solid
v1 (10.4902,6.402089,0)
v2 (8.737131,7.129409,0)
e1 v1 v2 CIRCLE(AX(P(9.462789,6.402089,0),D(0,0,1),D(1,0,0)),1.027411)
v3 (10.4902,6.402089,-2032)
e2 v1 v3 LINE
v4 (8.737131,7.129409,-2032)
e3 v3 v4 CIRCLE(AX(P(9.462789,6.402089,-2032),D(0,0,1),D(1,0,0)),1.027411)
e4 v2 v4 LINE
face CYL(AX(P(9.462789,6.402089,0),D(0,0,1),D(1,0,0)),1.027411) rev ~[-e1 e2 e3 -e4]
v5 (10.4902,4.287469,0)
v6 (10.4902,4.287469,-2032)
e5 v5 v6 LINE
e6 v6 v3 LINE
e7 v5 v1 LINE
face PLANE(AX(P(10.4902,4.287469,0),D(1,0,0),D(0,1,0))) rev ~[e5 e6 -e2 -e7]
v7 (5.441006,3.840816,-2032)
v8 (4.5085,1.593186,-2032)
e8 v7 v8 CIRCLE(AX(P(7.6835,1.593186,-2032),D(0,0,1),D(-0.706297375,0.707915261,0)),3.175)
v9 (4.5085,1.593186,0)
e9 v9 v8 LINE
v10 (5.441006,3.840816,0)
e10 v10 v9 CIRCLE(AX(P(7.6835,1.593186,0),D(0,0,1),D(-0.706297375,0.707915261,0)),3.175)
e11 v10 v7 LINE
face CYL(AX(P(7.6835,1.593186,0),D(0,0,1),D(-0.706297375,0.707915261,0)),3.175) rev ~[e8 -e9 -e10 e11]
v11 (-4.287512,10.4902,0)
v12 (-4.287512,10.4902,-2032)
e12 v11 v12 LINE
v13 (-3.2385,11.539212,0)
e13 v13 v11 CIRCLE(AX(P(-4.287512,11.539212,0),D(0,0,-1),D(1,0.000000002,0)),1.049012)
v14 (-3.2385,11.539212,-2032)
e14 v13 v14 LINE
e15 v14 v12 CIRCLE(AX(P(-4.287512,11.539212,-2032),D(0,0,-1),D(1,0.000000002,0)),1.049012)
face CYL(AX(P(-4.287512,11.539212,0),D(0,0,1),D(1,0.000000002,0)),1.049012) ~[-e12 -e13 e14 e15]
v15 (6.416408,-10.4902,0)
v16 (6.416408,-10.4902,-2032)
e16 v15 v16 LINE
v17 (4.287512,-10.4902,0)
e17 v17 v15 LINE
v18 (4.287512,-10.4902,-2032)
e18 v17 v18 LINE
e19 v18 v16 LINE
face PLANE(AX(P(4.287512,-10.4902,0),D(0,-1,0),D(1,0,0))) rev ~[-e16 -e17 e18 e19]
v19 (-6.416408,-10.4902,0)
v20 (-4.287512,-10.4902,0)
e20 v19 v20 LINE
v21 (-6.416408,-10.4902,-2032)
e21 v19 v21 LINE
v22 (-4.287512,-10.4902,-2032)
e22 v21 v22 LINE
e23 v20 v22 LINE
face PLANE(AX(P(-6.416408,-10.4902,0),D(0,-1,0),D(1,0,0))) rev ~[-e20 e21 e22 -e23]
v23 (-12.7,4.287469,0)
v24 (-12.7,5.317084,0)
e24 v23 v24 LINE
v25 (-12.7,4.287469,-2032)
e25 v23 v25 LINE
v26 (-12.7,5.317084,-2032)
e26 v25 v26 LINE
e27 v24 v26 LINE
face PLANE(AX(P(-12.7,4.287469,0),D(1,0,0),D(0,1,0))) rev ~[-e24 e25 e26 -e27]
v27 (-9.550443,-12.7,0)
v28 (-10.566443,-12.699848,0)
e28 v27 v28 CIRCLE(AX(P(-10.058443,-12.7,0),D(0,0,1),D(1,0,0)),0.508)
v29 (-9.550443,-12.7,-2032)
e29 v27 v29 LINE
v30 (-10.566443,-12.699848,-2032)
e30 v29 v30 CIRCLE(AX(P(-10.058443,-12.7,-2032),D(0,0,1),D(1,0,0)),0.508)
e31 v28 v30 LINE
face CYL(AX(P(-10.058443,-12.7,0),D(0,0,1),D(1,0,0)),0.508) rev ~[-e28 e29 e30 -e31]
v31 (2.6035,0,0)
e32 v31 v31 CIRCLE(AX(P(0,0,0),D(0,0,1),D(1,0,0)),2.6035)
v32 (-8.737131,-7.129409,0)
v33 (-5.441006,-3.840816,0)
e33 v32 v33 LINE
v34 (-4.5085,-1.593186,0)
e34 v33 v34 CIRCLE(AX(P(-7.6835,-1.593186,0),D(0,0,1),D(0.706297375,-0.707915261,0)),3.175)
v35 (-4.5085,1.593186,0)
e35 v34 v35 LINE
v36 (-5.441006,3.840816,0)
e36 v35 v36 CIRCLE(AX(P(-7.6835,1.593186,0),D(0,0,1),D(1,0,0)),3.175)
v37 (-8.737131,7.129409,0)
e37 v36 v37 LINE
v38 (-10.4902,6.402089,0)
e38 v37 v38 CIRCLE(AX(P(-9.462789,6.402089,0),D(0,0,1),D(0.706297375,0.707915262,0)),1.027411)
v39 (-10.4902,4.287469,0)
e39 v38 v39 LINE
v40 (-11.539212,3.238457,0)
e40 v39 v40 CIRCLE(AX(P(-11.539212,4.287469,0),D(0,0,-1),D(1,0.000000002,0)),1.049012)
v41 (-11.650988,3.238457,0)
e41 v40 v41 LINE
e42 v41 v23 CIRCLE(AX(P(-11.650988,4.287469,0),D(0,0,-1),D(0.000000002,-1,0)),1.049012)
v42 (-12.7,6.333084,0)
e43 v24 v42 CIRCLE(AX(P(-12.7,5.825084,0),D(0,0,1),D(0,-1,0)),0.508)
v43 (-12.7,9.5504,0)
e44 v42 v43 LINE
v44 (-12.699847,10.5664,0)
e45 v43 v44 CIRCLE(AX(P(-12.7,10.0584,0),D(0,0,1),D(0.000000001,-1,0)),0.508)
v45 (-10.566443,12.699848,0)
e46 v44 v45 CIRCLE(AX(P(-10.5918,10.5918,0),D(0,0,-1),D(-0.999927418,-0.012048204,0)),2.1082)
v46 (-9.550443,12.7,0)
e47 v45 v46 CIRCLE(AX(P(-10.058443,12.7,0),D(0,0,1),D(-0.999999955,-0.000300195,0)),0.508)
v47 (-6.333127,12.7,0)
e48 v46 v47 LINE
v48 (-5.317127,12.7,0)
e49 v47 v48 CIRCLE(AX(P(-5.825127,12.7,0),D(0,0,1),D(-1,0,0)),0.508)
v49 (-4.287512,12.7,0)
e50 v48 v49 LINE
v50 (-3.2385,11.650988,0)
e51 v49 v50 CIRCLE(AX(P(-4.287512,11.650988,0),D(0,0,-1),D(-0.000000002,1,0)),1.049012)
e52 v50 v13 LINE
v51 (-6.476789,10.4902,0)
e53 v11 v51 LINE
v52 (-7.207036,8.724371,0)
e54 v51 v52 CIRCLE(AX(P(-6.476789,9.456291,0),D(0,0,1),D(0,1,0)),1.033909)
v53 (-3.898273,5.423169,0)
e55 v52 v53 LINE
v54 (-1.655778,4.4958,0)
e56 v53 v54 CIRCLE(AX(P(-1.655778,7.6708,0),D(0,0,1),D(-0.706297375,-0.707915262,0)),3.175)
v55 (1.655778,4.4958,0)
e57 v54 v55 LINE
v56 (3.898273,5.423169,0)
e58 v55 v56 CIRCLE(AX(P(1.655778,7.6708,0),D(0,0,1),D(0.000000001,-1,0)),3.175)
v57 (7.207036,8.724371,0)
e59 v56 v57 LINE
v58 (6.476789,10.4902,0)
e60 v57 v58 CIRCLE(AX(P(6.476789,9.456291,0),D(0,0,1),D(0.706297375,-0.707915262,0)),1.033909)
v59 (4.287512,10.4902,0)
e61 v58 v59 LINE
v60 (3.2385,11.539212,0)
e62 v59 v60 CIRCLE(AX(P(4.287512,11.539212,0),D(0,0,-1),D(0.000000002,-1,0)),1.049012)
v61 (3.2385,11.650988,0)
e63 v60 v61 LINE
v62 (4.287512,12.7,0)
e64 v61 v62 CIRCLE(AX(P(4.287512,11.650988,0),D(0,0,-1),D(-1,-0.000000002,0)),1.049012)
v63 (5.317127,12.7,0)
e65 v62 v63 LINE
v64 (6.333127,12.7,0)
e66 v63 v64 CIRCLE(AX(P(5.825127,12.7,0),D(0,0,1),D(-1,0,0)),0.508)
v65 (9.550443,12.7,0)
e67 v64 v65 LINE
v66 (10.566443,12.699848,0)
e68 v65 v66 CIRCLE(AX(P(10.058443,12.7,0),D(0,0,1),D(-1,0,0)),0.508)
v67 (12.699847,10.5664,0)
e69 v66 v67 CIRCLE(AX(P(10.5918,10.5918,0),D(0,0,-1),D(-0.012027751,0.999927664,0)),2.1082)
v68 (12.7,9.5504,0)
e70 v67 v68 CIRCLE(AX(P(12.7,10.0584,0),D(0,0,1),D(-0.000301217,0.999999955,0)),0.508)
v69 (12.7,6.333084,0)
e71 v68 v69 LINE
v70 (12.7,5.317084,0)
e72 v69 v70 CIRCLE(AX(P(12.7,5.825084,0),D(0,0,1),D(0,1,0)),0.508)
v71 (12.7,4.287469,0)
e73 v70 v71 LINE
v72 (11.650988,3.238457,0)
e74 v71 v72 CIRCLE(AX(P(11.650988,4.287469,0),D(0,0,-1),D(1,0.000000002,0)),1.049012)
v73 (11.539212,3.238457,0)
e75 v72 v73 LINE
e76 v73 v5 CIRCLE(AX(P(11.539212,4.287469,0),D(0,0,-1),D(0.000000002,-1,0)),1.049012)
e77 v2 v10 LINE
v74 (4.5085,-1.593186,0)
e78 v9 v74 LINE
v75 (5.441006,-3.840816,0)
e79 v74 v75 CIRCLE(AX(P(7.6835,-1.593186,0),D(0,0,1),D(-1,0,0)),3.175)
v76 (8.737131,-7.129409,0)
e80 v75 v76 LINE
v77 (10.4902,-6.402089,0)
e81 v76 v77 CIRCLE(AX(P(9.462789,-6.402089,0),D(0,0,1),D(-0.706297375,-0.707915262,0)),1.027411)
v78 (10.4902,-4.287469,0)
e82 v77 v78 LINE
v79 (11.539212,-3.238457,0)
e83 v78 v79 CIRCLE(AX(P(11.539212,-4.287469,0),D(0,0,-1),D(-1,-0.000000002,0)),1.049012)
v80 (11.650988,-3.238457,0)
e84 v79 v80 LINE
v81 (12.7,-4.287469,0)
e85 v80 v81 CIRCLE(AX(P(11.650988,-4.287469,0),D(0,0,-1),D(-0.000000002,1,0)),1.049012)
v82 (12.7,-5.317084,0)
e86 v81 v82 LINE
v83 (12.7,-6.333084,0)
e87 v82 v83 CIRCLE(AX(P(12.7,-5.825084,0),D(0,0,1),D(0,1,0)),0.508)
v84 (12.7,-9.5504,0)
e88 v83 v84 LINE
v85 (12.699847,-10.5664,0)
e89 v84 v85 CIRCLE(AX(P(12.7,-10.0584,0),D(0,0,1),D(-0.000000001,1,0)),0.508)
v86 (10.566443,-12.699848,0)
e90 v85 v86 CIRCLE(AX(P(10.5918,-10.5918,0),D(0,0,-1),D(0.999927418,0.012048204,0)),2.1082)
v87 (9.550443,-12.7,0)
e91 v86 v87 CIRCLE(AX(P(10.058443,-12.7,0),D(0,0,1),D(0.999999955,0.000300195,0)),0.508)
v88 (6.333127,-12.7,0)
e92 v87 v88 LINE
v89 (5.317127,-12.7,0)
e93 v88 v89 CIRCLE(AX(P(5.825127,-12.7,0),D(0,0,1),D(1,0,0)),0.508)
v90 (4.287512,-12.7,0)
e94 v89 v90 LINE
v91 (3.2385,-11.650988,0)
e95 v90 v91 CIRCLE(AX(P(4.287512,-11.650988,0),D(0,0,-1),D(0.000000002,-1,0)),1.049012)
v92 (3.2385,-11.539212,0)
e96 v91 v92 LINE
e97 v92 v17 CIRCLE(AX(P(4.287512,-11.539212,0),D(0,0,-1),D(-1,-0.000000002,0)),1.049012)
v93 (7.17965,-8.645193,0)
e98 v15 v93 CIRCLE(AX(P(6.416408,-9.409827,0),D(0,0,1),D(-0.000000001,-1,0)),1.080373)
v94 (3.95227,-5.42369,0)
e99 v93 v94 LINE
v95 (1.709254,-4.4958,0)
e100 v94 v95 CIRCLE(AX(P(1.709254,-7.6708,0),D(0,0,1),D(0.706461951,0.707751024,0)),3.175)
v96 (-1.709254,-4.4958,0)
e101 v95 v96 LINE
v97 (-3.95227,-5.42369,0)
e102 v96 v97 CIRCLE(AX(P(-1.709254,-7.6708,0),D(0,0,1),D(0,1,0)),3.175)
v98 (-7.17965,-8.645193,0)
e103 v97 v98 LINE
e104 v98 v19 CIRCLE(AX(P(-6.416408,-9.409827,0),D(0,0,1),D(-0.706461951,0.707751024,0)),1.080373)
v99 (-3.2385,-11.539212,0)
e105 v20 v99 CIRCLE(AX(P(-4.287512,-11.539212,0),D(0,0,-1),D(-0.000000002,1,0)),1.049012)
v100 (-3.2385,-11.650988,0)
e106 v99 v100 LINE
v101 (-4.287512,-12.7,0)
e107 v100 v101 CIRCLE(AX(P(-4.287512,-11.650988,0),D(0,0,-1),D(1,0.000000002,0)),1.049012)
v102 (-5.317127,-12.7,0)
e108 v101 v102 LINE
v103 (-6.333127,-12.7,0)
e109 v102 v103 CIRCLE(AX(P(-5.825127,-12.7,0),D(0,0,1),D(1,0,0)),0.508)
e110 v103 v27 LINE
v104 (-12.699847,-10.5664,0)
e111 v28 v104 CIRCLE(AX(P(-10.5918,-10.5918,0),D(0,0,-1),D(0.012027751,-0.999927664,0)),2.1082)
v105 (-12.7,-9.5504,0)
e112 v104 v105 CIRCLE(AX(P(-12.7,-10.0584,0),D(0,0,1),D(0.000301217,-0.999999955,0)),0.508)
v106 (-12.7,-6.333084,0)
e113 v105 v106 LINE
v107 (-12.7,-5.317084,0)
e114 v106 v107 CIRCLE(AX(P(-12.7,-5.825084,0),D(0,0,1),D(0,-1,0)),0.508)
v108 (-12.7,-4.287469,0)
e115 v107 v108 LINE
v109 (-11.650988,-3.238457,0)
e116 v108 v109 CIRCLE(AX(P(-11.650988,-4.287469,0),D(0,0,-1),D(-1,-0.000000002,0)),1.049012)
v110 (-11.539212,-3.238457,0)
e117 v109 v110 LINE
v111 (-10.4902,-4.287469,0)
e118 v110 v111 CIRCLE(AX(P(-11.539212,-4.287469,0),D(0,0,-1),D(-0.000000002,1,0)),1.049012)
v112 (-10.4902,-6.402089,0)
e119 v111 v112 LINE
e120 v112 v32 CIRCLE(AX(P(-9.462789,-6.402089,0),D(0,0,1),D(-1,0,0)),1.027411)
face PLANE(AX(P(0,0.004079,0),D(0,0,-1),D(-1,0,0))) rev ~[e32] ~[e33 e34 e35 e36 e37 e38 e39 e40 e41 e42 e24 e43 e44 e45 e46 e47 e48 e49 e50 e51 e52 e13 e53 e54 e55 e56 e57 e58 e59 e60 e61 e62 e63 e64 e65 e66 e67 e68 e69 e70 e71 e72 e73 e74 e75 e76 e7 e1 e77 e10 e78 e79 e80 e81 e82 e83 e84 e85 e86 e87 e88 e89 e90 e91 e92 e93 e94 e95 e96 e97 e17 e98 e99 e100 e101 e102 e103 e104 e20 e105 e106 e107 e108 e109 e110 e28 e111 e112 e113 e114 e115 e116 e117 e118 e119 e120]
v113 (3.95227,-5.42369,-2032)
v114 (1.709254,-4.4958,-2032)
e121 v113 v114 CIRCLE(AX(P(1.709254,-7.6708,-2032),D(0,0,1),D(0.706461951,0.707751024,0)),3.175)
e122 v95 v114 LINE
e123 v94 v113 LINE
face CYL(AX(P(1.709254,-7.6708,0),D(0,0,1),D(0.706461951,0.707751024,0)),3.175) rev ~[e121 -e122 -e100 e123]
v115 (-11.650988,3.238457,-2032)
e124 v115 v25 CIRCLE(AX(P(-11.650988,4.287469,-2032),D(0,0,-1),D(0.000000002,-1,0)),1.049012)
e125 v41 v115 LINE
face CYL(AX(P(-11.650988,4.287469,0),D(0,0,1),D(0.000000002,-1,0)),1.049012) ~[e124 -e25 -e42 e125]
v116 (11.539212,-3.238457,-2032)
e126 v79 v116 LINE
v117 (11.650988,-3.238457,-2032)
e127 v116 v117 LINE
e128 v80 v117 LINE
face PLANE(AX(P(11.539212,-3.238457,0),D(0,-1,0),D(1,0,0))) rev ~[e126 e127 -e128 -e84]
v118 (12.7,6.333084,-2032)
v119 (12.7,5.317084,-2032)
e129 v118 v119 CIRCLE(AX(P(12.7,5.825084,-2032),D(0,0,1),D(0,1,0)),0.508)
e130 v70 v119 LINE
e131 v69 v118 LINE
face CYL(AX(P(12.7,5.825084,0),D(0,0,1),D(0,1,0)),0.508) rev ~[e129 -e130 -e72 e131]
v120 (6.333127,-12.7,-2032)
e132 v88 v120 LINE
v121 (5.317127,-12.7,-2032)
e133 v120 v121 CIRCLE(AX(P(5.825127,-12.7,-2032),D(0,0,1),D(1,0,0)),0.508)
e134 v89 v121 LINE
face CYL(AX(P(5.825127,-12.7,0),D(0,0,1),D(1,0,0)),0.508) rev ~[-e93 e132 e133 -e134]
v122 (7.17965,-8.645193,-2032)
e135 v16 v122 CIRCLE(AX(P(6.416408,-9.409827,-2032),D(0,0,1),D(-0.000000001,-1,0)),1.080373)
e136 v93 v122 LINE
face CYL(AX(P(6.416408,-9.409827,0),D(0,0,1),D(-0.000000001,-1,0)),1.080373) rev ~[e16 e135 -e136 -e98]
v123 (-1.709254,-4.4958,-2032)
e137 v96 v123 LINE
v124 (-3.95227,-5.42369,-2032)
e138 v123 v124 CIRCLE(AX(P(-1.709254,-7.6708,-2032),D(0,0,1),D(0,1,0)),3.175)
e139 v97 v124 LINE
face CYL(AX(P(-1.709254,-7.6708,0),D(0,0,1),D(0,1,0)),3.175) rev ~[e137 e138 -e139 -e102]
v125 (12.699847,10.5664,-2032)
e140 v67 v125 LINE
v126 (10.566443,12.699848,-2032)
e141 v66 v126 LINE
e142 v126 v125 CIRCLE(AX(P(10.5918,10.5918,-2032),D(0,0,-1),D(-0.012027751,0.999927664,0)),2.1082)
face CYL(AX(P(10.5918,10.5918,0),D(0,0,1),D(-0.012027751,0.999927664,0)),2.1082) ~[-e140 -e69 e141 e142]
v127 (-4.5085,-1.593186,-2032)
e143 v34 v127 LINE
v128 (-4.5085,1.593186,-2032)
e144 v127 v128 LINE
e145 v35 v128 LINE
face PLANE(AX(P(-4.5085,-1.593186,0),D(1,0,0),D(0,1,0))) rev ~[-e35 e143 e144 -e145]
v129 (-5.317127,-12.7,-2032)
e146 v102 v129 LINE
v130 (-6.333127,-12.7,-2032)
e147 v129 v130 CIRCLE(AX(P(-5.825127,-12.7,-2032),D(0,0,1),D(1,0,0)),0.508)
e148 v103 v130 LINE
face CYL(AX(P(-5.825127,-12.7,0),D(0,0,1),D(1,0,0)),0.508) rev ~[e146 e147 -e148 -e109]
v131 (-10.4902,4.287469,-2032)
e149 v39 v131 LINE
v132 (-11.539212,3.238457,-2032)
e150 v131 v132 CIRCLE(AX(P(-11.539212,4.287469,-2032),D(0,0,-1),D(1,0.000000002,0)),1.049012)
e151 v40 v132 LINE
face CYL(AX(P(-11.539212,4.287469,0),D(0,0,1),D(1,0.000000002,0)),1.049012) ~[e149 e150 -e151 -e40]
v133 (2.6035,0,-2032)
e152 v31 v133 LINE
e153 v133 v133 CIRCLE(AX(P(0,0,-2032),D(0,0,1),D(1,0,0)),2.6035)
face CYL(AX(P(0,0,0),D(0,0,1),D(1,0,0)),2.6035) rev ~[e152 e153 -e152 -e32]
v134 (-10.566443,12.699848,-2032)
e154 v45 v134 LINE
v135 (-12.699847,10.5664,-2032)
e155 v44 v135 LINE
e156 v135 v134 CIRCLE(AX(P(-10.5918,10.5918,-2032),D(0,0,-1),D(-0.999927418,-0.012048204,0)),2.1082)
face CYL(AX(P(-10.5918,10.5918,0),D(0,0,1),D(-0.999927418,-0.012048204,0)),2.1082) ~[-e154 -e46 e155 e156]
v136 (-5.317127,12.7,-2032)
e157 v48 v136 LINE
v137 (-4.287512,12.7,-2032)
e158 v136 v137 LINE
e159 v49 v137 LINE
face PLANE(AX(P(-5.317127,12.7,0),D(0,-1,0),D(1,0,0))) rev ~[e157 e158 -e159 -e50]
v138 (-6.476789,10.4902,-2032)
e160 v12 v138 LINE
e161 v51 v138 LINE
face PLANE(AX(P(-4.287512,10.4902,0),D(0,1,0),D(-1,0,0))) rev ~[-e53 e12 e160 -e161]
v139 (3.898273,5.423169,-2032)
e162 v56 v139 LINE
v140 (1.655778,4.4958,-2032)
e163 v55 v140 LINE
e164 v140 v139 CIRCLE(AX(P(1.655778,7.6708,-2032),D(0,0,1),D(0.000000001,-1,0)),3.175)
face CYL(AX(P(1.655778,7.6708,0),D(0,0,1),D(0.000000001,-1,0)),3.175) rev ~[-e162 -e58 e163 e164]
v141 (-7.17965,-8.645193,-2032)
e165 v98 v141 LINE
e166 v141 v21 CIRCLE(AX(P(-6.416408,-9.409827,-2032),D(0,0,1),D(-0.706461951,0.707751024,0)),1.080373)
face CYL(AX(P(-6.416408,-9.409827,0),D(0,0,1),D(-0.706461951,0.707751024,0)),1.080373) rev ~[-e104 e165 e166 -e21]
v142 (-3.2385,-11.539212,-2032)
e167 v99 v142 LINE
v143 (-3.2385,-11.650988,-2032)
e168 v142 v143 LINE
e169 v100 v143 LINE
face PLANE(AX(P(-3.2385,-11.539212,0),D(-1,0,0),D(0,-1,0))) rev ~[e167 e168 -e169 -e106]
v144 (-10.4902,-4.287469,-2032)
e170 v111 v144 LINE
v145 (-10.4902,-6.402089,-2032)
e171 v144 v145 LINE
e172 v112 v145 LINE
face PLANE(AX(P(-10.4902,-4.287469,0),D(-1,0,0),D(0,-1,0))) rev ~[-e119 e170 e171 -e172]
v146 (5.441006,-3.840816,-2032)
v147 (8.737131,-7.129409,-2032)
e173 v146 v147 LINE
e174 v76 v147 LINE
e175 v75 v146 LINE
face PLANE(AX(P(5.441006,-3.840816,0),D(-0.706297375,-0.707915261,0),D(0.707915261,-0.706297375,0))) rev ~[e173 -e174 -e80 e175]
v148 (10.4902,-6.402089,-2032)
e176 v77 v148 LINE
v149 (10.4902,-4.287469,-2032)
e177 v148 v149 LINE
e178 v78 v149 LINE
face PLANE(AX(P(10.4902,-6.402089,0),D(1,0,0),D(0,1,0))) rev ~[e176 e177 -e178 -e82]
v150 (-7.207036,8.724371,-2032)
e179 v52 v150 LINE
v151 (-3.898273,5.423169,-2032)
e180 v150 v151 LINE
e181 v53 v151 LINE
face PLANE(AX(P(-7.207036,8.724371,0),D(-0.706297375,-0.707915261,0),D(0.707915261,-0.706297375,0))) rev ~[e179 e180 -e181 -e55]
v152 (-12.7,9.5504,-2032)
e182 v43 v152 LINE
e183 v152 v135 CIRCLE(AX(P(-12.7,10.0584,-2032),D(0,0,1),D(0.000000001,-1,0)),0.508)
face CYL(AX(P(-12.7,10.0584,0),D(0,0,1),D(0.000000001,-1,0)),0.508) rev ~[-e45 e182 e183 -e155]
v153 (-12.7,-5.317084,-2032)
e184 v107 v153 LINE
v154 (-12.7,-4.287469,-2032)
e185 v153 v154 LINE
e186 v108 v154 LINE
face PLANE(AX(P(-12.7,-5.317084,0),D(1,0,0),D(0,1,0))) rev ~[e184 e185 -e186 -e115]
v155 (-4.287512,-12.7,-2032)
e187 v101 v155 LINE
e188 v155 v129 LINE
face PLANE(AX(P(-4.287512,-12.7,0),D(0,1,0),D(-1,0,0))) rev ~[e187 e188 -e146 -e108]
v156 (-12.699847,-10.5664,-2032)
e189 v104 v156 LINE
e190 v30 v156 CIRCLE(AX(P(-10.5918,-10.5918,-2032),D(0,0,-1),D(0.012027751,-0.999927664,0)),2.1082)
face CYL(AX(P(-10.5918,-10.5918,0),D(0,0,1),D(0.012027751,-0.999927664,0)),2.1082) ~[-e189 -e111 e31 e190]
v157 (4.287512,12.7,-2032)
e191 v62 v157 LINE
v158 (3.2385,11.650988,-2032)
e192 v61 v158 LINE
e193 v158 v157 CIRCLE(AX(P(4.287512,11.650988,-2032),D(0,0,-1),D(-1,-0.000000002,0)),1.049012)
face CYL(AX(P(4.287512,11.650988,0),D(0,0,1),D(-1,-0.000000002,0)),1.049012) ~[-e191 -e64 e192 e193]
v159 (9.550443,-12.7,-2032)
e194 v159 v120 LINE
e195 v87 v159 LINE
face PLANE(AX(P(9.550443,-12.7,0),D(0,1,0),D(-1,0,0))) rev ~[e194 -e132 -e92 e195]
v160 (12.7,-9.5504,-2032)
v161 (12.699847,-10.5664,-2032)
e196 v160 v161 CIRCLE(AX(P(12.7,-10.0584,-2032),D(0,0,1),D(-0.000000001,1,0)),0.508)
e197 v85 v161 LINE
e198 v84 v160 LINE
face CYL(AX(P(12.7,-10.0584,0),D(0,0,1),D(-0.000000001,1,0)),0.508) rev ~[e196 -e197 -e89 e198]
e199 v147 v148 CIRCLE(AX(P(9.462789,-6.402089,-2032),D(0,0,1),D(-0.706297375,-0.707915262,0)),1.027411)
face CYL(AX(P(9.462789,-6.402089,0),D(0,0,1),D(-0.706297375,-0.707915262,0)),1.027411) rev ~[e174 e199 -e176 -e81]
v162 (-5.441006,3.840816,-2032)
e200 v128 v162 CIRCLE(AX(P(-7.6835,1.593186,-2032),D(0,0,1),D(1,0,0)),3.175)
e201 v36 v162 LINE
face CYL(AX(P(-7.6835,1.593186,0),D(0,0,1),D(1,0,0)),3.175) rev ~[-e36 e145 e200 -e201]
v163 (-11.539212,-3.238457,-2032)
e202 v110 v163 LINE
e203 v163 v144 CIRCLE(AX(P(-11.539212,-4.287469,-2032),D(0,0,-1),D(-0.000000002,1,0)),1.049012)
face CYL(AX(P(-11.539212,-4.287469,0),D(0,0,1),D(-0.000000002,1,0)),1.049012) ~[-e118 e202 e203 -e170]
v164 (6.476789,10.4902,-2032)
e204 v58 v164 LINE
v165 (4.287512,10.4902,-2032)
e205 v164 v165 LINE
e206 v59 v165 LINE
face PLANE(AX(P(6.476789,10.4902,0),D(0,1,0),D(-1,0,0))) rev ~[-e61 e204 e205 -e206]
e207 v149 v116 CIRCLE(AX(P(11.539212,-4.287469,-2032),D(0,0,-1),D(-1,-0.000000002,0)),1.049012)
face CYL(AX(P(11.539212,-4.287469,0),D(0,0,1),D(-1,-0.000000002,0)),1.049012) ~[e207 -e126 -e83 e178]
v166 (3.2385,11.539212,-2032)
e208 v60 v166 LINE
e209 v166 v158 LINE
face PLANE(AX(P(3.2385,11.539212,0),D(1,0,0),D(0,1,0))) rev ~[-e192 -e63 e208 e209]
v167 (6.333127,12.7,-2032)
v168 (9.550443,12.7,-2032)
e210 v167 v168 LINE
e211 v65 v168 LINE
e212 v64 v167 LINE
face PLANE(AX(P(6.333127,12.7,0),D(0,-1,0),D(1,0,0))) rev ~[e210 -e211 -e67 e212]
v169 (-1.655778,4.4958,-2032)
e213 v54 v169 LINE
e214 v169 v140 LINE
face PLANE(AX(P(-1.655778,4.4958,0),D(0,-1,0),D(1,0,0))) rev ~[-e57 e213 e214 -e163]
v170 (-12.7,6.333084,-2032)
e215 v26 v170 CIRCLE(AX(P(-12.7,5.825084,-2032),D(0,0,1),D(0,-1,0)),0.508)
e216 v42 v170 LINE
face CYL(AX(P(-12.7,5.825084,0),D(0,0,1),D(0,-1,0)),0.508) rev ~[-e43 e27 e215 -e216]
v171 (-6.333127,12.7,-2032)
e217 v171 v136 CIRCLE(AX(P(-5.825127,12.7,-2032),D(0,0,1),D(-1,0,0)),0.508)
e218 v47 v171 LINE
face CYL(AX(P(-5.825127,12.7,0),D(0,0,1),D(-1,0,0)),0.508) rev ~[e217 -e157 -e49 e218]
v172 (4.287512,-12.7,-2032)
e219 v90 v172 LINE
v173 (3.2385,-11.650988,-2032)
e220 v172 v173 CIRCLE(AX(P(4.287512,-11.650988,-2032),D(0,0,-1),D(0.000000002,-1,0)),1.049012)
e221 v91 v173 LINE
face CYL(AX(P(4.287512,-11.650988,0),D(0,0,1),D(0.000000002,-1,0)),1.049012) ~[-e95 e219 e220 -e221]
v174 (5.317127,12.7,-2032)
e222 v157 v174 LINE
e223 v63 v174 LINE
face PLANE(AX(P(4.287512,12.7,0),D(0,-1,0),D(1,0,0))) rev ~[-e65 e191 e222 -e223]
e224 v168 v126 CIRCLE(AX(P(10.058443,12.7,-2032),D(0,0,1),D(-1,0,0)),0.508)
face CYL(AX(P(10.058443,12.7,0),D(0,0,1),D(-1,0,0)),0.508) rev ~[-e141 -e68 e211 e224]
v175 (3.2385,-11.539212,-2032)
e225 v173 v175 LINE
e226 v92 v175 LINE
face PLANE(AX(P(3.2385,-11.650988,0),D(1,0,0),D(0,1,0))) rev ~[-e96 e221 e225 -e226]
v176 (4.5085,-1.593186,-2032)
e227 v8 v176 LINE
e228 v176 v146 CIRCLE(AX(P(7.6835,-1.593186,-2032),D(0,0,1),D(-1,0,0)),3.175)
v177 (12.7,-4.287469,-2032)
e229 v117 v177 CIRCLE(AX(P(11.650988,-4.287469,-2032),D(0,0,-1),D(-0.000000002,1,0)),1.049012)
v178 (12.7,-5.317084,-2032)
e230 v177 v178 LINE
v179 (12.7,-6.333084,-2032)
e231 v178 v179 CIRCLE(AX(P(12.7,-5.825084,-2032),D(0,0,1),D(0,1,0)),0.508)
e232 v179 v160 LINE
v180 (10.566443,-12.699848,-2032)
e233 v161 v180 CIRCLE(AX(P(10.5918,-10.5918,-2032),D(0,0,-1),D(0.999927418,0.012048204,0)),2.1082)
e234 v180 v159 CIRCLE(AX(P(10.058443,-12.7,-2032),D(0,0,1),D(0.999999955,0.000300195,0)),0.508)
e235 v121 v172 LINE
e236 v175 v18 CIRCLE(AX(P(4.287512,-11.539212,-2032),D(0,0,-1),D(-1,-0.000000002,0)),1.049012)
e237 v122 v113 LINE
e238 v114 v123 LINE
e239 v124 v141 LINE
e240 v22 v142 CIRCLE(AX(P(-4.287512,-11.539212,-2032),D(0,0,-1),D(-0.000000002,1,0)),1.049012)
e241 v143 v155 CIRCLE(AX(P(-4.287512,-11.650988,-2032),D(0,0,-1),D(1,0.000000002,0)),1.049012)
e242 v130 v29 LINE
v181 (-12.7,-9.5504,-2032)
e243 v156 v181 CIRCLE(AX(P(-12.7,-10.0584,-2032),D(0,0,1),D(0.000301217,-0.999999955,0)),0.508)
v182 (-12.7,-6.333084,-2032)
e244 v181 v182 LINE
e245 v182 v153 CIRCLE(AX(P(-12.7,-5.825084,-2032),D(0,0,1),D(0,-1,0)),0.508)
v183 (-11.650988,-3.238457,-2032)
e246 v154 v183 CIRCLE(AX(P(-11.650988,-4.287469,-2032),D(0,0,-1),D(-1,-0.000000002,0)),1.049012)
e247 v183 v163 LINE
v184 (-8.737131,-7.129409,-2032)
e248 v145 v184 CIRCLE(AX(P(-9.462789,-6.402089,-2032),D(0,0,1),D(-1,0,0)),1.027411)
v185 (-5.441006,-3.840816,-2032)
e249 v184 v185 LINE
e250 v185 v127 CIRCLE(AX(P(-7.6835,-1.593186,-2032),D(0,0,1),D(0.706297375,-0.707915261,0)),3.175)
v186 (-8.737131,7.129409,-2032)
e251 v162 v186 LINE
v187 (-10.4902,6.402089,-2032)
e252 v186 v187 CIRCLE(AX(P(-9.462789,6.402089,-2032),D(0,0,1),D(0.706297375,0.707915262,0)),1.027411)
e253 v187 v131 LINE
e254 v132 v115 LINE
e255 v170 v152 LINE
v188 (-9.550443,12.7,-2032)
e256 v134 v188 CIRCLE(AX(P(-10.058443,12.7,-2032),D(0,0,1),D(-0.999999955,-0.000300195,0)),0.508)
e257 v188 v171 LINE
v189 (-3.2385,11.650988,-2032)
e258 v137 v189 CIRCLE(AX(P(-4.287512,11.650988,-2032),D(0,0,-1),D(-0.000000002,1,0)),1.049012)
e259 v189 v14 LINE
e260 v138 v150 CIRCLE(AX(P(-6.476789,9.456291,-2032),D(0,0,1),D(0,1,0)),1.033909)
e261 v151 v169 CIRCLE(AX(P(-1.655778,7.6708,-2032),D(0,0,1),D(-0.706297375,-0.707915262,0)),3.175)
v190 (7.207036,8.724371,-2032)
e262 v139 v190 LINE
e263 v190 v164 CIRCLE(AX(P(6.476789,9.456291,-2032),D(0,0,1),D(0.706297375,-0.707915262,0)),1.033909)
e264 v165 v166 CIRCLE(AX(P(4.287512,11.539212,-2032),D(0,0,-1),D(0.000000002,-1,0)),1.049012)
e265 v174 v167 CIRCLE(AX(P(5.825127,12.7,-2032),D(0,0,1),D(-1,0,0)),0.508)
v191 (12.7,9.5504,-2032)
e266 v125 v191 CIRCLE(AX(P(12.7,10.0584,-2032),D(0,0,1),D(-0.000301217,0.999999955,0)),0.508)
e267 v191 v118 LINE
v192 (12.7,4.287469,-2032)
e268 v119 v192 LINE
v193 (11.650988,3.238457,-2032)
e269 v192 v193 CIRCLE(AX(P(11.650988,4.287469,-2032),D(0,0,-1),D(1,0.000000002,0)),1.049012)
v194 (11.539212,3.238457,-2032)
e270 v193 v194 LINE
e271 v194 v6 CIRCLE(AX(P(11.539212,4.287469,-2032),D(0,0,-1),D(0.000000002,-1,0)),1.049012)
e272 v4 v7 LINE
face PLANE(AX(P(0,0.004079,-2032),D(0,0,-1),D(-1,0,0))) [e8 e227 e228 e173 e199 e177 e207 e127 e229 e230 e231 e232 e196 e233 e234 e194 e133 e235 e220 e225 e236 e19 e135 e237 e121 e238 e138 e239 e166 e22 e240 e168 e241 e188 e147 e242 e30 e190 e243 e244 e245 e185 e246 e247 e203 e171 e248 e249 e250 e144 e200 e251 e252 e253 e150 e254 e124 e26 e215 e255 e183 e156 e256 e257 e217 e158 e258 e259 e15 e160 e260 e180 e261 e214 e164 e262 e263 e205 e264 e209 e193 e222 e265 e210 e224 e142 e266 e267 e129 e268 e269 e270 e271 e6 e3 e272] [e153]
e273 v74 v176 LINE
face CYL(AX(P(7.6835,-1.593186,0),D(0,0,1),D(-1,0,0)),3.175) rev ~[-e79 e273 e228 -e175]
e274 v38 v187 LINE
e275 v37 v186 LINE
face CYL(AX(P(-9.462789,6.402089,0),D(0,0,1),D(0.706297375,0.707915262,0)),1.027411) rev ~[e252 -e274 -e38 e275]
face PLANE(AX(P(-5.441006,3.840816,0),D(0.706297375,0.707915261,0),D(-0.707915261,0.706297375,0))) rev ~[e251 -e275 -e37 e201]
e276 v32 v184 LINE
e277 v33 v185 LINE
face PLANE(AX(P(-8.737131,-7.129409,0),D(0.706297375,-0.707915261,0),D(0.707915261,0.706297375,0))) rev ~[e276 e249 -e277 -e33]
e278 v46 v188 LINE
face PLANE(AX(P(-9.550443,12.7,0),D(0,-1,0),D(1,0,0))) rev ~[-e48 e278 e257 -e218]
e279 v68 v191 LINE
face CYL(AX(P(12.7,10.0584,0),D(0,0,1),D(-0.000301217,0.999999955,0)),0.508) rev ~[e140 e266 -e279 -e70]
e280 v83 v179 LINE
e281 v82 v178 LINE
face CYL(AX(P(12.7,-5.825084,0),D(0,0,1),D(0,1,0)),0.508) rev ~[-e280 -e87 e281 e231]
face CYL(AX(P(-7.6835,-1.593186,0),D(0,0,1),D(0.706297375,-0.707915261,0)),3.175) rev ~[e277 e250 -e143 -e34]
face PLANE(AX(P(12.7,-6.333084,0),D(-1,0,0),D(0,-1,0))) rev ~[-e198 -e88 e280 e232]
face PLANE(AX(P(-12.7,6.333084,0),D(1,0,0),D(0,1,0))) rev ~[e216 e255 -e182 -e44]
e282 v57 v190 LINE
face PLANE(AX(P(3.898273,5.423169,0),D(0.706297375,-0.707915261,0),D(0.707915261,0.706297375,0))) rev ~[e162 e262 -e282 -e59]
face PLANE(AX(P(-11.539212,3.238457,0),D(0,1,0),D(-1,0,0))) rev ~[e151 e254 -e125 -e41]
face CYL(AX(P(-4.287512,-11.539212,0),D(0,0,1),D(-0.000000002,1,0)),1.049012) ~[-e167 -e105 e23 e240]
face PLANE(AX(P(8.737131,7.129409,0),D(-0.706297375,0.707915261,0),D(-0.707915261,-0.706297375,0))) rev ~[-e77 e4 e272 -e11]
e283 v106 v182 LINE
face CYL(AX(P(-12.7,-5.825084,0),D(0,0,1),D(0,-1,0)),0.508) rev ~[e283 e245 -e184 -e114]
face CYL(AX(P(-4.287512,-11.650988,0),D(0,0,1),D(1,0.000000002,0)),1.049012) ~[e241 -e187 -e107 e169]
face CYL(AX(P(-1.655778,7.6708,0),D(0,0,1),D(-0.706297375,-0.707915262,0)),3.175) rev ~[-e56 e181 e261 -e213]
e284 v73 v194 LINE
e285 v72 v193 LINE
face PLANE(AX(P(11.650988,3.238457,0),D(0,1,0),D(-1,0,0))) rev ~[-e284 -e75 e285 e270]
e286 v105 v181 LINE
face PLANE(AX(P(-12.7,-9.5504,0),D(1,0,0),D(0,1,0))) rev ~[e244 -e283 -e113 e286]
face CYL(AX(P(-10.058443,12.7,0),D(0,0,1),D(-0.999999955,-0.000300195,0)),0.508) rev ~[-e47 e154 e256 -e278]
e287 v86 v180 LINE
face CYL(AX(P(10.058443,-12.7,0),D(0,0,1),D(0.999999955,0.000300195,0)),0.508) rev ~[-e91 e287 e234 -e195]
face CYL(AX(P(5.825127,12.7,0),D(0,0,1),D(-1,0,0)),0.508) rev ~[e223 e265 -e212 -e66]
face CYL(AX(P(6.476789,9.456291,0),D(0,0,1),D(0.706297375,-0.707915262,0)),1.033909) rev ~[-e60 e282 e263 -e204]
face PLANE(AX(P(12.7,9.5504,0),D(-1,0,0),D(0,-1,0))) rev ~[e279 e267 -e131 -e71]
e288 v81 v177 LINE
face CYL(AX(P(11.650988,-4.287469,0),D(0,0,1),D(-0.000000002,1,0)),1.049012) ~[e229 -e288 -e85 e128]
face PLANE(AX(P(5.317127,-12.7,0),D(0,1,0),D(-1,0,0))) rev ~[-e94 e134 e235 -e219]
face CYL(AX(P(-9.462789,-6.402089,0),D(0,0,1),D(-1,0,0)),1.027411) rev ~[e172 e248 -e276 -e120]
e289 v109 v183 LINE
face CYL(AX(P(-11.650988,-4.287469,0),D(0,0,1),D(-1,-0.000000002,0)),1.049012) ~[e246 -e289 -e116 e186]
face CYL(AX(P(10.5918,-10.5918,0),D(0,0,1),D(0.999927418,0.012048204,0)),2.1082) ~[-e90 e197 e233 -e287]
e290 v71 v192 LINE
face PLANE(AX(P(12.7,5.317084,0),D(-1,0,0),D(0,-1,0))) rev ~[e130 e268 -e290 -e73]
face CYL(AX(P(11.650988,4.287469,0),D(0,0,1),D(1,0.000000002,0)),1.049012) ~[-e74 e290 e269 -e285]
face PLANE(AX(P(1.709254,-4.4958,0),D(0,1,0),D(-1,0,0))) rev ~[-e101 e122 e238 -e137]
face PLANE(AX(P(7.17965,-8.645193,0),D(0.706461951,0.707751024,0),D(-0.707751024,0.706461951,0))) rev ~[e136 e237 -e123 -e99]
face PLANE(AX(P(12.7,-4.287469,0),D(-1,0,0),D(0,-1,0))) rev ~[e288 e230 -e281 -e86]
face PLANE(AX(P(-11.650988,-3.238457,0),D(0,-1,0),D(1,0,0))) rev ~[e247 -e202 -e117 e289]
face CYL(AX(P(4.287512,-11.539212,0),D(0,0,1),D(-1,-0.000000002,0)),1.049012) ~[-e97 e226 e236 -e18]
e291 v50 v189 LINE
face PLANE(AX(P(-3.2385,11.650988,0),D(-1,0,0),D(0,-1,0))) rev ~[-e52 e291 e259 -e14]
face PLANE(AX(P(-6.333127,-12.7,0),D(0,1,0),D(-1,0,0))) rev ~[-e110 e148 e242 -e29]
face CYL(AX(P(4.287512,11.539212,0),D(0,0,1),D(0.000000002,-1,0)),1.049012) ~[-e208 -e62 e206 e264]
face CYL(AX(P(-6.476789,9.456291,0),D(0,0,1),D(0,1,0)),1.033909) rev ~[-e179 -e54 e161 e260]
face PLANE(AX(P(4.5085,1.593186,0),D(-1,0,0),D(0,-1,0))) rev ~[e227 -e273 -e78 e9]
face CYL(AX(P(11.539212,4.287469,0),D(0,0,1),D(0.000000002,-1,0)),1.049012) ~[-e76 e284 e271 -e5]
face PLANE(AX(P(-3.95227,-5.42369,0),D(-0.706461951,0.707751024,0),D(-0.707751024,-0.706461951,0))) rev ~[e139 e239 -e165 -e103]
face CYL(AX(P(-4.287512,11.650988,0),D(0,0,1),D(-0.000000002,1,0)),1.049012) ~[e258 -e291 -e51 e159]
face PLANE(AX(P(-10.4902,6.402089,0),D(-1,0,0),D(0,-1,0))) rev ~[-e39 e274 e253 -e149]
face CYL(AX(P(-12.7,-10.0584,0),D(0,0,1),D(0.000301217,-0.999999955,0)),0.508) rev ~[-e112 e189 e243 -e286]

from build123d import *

# Parameters (mm, degrees)
SKETCH1_R      = 2.6035
EXTRUDE1_DEPTH = 2032


with BuildPart() as part:
    # Sketch1 → Extrude1 (new body)
    with BuildSketch(Plane.XY):
        with BuildLine():
            Line((-7.207036008, 8.724370562), (-3.898272566, 5.423169045))
            ThreePointArc((-3.898272566, 5.423169045), (-2.869120213, 4.736787962), (-1.655778399, 4.4958))
            Line((-1.655778399, 4.4958), (1.655778399, 4.4958))
            ThreePointArc((1.655778399, 4.4958), (2.869120213, 4.736787962), (3.898272566, 5.423169045))
            Line((3.898272566, 5.423169045), (7.207036008, 8.724370562))
            ThreePointArc((7.207036008, 8.724370562), (7.432222385, 9.85140422), (6.476788598, 10.4902))
            Line((6.476788598, 10.4902), (4.287512407, 10.4902))
            ThreePointArc((4.287512407, 10.4902), (3.54574862, 10.79744862), (3.2385, 11.539212407))
            Line((3.2385, 11.539212407), (3.2385, 11.650987593))
            ThreePointArc((3.2385, 11.650987593), (3.54574862, 12.39275138), (4.287512407, 12.7))
            Line((4.287512407, 12.7), (5.317126718, 12.7))
            ThreePointArc((5.317126718, 12.7), (5.825126718, 12.192), (6.333126718, 12.7))
            Line((6.333126718, 12.7), (9.550443118, 12.7))
            ThreePointArc((9.550443118, 12.7), (10.058366869, 12.192000006), (10.566443095, 12.699847501))
            ThreePointArc((10.566443095, 12.699847501), (12.082537762, 12.08250727), (12.699846982, 10.566399977))
            ThreePointArc((12.699846982, 10.566399977), (12.192000006, 10.058323491), (12.7, 9.5504))
            Line((12.7, 9.5504), (12.7, 6.3330836))
            ThreePointArc((12.7, 6.3330836), (12.192, 5.8250836), (12.7, 5.3170836))
            Line((12.7, 5.3170836), (12.7, 4.287469289))
            ThreePointArc((12.7, 4.287469289), (12.39275138, 3.545705502), (11.650987593, 3.238456882))
            Line((11.650987593, 3.238456882), (11.539212407, 3.238456882))
            ThreePointArc((11.539212407, 3.238456882), (10.79744862, 3.545705502), (10.4902, 4.287469289))
            Line((10.4902, 4.287469289), (10.4902, 6.402089023))
            ThreePointArc((10.4902, 6.402089023), (9.856505071, 7.351067942), (8.737131347, 7.129408934))
            Line((8.737131347, 7.129408934), (5.441005833, 3.840816462))
            ThreePointArc((5.441005833, 3.840816462), (4.750877967, 2.809883091), (4.5085, 1.593185507))
            Line((4.5085, 1.593185507), (4.5085, -1.593185507))
            ThreePointArc((4.5085, -1.593185507), (4.750877967, -2.809883091), (5.441005833, -3.840816462))
            Line((5.441005833, -3.840816462), (8.737131347, -7.129408934))
            ThreePointArc((8.737131347, -7.129408934), (9.856505071, -7.351067942), (10.4902, -6.402089023))
            Line((10.4902, -6.402089023), (10.4902, -4.287469289))
            ThreePointArc((10.4902, -4.287469289), (10.79744862, -3.545705502), (11.539212407, -3.238456882))
            Line((11.539212407, -3.238456882), (11.650987593, -3.238456882))
            ThreePointArc((11.650987593, -3.238456882), (12.39275138, -3.545705502), (12.7, -4.287469289))
            Line((12.7, -4.287469289), (12.7, -5.3170836))
            ThreePointArc((12.7, -5.3170836), (12.192, -5.8250836), (12.7, -6.3330836))
            Line((12.7, -6.3330836), (12.7, -9.5504))
            ThreePointArc((12.7, -9.5504), (12.192000006, -10.058323491), (12.699846982, -10.566399977))
            ThreePointArc((12.699846982, -10.566399977), (12.082537762, -12.08250727), (10.566443095, -12.699847501))
            ThreePointArc((10.566443095, -12.699847501), (10.058366869, -12.192000006), (9.550443118, -12.7))
            Line((9.550443118, -12.7), (6.333126718, -12.7))
            ThreePointArc((6.333126718, -12.7), (5.825126718, -12.192), (5.317126718, -12.7))
            Line((5.317126718, -12.7), (4.287512407, -12.7))
            ThreePointArc((4.287512407, -12.7), (3.54574862, -12.39275138), (3.2385, -11.650987593))
            Line((3.2385, -11.650987593), (3.2385, -11.539212407))
            ThreePointArc((3.2385, -11.539212407), (3.54574862, -10.79744862), (4.287512407, -10.4902))
            Line((4.287512407, -10.4902), (6.416408329, -10.4902))
            ThreePointArc((6.416408329, -10.4902), (7.41473083, -9.822813117), (7.179650497, -8.645192506))
            Line((7.179650497, -8.645192506), (3.952270251, -5.423690499))
            ThreePointArc((3.952270251, -5.423690499), (2.922936451, -4.736929036), (1.709253557, -4.4958))
            Line((1.709253557, -4.4958), (-1.709253557, -4.4958))
            ThreePointArc((-1.709253557, -4.4958), (-2.922936451, -4.736929036), (-3.952270251, -5.423690499))
            Line((-3.952270251, -5.423690499), (-7.179650497, -8.645192506))
            ThreePointArc((-7.179650497, -8.645192506), (-7.41473083, -9.822813117), (-6.416408329, -10.4902))
            Line((-6.416408329, -10.4902), (-4.287512407, -10.4902))
            ThreePointArc((-4.287512407, -10.4902), (-3.54574862, -10.79744862), (-3.2385, -11.539212407))
            Line((-3.2385, -11.539212407), (-3.2385, -11.650987593))
            ThreePointArc((-3.2385, -11.650987593), (-3.54574862, -12.39275138), (-4.287512407, -12.7))
            Line((-4.287512407, -12.7), (-5.317126718, -12.7))
            ThreePointArc((-5.317126718, -12.7), (-5.825126718, -12.192), (-6.333126718, -12.7))
            Line((-6.333126718, -12.7), (-9.550443118, -12.7))
            ThreePointArc((-9.550443118, -12.7), (-10.058366869, -12.192000006), (-10.566443095, -12.699847501))
            ThreePointArc((-10.566443095, -12.699847501), (-12.082537762, -12.08250727), (-12.699846982, -10.566399977))
            ThreePointArc((-12.699846982, -10.566399977), (-12.192000006, -10.058323491), (-12.7, -9.5504))
            Line((-12.7, -9.5504), (-12.7, -6.3330836))
            ThreePointArc((-12.7, -6.3330836), (-12.192, -5.8250836), (-12.7, -5.3170836))
            Line((-12.7, -5.3170836), (-12.7, -4.287469289))
            ThreePointArc((-12.7, -4.287469289), (-12.39275138, -3.545705502), (-11.650987593, -3.238456882))
            Line((-11.650987593, -3.238456882), (-11.539212407, -3.238456882))
            ThreePointArc((-11.539212407, -3.238456882), (-10.79744862, -3.545705502), (-10.4902, -4.287469289))
            Line((-10.4902, -4.287469289), (-10.4902, -6.402089023))
            ThreePointArc((-10.4902, -6.402089023), (-9.856505071, -7.351067942), (-8.737131347, -7.129408934))
            Line((-8.737131347, -7.129408934), (-5.441005833, -3.840816462))
            ThreePointArc((-5.441005833, -3.840816462), (-4.750877967, -2.809883091), (-4.5085, -1.593185507))
            Line((-4.5085, -1.593185507), (-4.5085, 1.593185507))
            ThreePointArc((-4.5085, 1.593185507), (-4.750877967, 2.809883091), (-5.441005833, 3.840816462))
            Line((-5.441005833, 3.840816462), (-8.737131347, 7.129408934))
            ThreePointArc((-8.737131347, 7.129408934), (-9.856505071, 7.351067942), (-10.4902, 6.402089023))
            Line((-10.4902, 6.402089023), (-10.4902, 4.287469289))
            ThreePointArc((-10.4902, 4.287469289), (-10.79744862, 3.545705502), (-11.539212407, 3.238456882))
            Line((-11.539212407, 3.238456882), (-11.650987593, 3.238456882))
            ThreePointArc((-11.650987593, 3.238456882), (-12.39275138, 3.545705502), (-12.7, 4.287469289))
            Line((-12.7, 4.287469289), (-12.7, 5.3170836))
            ThreePointArc((-12.7, 5.3170836), (-12.192, 5.8250836), (-12.7, 6.3330836))
            Line((-12.7, 6.3330836), (-12.7, 9.5504))
            ThreePointArc((-12.7, 9.5504), (-12.192000006, 10.058323491), (-12.699846982, 10.566399977))
            ThreePointArc((-12.699846982, 10.566399977), (-12.082537762, 12.08250727), (-10.566443095, 12.699847501))
            ThreePointArc((-10.566443095, 12.699847501), (-10.058366869, 12.192000006), (-9.550443118, 12.7))
            Line((-9.550443118, 12.7), (-6.333126718, 12.7))
            ThreePointArc((-6.333126718, 12.7), (-5.825126718, 12.192), (-5.317126718, 12.7))
            Line((-5.317126718, 12.7), (-4.287512407, 12.7))
            ThreePointArc((-4.287512407, 12.7), (-3.54574862, 12.39275138), (-3.2385, 11.650987593))
            Line((-3.2385, 11.650987593), (-3.2385, 11.539212407))
            ThreePointArc((-3.2385, 11.539212407), (-3.54574862, 10.79744862), (-4.287512407, 10.4902))
            Line((-4.287512407, 10.4902), (-6.476788598, 10.4902))
            ThreePointArc((-6.476788598, 10.4902), (-7.432222385, 9.85140422), (-7.207036008, 8.724370562))
        make_face()
        Circle(SKETCH1_R, mode=Mode.SUBTRACT)
    extrude(amount=-EXTRUDE1_DEPTH)


solid = part.part
